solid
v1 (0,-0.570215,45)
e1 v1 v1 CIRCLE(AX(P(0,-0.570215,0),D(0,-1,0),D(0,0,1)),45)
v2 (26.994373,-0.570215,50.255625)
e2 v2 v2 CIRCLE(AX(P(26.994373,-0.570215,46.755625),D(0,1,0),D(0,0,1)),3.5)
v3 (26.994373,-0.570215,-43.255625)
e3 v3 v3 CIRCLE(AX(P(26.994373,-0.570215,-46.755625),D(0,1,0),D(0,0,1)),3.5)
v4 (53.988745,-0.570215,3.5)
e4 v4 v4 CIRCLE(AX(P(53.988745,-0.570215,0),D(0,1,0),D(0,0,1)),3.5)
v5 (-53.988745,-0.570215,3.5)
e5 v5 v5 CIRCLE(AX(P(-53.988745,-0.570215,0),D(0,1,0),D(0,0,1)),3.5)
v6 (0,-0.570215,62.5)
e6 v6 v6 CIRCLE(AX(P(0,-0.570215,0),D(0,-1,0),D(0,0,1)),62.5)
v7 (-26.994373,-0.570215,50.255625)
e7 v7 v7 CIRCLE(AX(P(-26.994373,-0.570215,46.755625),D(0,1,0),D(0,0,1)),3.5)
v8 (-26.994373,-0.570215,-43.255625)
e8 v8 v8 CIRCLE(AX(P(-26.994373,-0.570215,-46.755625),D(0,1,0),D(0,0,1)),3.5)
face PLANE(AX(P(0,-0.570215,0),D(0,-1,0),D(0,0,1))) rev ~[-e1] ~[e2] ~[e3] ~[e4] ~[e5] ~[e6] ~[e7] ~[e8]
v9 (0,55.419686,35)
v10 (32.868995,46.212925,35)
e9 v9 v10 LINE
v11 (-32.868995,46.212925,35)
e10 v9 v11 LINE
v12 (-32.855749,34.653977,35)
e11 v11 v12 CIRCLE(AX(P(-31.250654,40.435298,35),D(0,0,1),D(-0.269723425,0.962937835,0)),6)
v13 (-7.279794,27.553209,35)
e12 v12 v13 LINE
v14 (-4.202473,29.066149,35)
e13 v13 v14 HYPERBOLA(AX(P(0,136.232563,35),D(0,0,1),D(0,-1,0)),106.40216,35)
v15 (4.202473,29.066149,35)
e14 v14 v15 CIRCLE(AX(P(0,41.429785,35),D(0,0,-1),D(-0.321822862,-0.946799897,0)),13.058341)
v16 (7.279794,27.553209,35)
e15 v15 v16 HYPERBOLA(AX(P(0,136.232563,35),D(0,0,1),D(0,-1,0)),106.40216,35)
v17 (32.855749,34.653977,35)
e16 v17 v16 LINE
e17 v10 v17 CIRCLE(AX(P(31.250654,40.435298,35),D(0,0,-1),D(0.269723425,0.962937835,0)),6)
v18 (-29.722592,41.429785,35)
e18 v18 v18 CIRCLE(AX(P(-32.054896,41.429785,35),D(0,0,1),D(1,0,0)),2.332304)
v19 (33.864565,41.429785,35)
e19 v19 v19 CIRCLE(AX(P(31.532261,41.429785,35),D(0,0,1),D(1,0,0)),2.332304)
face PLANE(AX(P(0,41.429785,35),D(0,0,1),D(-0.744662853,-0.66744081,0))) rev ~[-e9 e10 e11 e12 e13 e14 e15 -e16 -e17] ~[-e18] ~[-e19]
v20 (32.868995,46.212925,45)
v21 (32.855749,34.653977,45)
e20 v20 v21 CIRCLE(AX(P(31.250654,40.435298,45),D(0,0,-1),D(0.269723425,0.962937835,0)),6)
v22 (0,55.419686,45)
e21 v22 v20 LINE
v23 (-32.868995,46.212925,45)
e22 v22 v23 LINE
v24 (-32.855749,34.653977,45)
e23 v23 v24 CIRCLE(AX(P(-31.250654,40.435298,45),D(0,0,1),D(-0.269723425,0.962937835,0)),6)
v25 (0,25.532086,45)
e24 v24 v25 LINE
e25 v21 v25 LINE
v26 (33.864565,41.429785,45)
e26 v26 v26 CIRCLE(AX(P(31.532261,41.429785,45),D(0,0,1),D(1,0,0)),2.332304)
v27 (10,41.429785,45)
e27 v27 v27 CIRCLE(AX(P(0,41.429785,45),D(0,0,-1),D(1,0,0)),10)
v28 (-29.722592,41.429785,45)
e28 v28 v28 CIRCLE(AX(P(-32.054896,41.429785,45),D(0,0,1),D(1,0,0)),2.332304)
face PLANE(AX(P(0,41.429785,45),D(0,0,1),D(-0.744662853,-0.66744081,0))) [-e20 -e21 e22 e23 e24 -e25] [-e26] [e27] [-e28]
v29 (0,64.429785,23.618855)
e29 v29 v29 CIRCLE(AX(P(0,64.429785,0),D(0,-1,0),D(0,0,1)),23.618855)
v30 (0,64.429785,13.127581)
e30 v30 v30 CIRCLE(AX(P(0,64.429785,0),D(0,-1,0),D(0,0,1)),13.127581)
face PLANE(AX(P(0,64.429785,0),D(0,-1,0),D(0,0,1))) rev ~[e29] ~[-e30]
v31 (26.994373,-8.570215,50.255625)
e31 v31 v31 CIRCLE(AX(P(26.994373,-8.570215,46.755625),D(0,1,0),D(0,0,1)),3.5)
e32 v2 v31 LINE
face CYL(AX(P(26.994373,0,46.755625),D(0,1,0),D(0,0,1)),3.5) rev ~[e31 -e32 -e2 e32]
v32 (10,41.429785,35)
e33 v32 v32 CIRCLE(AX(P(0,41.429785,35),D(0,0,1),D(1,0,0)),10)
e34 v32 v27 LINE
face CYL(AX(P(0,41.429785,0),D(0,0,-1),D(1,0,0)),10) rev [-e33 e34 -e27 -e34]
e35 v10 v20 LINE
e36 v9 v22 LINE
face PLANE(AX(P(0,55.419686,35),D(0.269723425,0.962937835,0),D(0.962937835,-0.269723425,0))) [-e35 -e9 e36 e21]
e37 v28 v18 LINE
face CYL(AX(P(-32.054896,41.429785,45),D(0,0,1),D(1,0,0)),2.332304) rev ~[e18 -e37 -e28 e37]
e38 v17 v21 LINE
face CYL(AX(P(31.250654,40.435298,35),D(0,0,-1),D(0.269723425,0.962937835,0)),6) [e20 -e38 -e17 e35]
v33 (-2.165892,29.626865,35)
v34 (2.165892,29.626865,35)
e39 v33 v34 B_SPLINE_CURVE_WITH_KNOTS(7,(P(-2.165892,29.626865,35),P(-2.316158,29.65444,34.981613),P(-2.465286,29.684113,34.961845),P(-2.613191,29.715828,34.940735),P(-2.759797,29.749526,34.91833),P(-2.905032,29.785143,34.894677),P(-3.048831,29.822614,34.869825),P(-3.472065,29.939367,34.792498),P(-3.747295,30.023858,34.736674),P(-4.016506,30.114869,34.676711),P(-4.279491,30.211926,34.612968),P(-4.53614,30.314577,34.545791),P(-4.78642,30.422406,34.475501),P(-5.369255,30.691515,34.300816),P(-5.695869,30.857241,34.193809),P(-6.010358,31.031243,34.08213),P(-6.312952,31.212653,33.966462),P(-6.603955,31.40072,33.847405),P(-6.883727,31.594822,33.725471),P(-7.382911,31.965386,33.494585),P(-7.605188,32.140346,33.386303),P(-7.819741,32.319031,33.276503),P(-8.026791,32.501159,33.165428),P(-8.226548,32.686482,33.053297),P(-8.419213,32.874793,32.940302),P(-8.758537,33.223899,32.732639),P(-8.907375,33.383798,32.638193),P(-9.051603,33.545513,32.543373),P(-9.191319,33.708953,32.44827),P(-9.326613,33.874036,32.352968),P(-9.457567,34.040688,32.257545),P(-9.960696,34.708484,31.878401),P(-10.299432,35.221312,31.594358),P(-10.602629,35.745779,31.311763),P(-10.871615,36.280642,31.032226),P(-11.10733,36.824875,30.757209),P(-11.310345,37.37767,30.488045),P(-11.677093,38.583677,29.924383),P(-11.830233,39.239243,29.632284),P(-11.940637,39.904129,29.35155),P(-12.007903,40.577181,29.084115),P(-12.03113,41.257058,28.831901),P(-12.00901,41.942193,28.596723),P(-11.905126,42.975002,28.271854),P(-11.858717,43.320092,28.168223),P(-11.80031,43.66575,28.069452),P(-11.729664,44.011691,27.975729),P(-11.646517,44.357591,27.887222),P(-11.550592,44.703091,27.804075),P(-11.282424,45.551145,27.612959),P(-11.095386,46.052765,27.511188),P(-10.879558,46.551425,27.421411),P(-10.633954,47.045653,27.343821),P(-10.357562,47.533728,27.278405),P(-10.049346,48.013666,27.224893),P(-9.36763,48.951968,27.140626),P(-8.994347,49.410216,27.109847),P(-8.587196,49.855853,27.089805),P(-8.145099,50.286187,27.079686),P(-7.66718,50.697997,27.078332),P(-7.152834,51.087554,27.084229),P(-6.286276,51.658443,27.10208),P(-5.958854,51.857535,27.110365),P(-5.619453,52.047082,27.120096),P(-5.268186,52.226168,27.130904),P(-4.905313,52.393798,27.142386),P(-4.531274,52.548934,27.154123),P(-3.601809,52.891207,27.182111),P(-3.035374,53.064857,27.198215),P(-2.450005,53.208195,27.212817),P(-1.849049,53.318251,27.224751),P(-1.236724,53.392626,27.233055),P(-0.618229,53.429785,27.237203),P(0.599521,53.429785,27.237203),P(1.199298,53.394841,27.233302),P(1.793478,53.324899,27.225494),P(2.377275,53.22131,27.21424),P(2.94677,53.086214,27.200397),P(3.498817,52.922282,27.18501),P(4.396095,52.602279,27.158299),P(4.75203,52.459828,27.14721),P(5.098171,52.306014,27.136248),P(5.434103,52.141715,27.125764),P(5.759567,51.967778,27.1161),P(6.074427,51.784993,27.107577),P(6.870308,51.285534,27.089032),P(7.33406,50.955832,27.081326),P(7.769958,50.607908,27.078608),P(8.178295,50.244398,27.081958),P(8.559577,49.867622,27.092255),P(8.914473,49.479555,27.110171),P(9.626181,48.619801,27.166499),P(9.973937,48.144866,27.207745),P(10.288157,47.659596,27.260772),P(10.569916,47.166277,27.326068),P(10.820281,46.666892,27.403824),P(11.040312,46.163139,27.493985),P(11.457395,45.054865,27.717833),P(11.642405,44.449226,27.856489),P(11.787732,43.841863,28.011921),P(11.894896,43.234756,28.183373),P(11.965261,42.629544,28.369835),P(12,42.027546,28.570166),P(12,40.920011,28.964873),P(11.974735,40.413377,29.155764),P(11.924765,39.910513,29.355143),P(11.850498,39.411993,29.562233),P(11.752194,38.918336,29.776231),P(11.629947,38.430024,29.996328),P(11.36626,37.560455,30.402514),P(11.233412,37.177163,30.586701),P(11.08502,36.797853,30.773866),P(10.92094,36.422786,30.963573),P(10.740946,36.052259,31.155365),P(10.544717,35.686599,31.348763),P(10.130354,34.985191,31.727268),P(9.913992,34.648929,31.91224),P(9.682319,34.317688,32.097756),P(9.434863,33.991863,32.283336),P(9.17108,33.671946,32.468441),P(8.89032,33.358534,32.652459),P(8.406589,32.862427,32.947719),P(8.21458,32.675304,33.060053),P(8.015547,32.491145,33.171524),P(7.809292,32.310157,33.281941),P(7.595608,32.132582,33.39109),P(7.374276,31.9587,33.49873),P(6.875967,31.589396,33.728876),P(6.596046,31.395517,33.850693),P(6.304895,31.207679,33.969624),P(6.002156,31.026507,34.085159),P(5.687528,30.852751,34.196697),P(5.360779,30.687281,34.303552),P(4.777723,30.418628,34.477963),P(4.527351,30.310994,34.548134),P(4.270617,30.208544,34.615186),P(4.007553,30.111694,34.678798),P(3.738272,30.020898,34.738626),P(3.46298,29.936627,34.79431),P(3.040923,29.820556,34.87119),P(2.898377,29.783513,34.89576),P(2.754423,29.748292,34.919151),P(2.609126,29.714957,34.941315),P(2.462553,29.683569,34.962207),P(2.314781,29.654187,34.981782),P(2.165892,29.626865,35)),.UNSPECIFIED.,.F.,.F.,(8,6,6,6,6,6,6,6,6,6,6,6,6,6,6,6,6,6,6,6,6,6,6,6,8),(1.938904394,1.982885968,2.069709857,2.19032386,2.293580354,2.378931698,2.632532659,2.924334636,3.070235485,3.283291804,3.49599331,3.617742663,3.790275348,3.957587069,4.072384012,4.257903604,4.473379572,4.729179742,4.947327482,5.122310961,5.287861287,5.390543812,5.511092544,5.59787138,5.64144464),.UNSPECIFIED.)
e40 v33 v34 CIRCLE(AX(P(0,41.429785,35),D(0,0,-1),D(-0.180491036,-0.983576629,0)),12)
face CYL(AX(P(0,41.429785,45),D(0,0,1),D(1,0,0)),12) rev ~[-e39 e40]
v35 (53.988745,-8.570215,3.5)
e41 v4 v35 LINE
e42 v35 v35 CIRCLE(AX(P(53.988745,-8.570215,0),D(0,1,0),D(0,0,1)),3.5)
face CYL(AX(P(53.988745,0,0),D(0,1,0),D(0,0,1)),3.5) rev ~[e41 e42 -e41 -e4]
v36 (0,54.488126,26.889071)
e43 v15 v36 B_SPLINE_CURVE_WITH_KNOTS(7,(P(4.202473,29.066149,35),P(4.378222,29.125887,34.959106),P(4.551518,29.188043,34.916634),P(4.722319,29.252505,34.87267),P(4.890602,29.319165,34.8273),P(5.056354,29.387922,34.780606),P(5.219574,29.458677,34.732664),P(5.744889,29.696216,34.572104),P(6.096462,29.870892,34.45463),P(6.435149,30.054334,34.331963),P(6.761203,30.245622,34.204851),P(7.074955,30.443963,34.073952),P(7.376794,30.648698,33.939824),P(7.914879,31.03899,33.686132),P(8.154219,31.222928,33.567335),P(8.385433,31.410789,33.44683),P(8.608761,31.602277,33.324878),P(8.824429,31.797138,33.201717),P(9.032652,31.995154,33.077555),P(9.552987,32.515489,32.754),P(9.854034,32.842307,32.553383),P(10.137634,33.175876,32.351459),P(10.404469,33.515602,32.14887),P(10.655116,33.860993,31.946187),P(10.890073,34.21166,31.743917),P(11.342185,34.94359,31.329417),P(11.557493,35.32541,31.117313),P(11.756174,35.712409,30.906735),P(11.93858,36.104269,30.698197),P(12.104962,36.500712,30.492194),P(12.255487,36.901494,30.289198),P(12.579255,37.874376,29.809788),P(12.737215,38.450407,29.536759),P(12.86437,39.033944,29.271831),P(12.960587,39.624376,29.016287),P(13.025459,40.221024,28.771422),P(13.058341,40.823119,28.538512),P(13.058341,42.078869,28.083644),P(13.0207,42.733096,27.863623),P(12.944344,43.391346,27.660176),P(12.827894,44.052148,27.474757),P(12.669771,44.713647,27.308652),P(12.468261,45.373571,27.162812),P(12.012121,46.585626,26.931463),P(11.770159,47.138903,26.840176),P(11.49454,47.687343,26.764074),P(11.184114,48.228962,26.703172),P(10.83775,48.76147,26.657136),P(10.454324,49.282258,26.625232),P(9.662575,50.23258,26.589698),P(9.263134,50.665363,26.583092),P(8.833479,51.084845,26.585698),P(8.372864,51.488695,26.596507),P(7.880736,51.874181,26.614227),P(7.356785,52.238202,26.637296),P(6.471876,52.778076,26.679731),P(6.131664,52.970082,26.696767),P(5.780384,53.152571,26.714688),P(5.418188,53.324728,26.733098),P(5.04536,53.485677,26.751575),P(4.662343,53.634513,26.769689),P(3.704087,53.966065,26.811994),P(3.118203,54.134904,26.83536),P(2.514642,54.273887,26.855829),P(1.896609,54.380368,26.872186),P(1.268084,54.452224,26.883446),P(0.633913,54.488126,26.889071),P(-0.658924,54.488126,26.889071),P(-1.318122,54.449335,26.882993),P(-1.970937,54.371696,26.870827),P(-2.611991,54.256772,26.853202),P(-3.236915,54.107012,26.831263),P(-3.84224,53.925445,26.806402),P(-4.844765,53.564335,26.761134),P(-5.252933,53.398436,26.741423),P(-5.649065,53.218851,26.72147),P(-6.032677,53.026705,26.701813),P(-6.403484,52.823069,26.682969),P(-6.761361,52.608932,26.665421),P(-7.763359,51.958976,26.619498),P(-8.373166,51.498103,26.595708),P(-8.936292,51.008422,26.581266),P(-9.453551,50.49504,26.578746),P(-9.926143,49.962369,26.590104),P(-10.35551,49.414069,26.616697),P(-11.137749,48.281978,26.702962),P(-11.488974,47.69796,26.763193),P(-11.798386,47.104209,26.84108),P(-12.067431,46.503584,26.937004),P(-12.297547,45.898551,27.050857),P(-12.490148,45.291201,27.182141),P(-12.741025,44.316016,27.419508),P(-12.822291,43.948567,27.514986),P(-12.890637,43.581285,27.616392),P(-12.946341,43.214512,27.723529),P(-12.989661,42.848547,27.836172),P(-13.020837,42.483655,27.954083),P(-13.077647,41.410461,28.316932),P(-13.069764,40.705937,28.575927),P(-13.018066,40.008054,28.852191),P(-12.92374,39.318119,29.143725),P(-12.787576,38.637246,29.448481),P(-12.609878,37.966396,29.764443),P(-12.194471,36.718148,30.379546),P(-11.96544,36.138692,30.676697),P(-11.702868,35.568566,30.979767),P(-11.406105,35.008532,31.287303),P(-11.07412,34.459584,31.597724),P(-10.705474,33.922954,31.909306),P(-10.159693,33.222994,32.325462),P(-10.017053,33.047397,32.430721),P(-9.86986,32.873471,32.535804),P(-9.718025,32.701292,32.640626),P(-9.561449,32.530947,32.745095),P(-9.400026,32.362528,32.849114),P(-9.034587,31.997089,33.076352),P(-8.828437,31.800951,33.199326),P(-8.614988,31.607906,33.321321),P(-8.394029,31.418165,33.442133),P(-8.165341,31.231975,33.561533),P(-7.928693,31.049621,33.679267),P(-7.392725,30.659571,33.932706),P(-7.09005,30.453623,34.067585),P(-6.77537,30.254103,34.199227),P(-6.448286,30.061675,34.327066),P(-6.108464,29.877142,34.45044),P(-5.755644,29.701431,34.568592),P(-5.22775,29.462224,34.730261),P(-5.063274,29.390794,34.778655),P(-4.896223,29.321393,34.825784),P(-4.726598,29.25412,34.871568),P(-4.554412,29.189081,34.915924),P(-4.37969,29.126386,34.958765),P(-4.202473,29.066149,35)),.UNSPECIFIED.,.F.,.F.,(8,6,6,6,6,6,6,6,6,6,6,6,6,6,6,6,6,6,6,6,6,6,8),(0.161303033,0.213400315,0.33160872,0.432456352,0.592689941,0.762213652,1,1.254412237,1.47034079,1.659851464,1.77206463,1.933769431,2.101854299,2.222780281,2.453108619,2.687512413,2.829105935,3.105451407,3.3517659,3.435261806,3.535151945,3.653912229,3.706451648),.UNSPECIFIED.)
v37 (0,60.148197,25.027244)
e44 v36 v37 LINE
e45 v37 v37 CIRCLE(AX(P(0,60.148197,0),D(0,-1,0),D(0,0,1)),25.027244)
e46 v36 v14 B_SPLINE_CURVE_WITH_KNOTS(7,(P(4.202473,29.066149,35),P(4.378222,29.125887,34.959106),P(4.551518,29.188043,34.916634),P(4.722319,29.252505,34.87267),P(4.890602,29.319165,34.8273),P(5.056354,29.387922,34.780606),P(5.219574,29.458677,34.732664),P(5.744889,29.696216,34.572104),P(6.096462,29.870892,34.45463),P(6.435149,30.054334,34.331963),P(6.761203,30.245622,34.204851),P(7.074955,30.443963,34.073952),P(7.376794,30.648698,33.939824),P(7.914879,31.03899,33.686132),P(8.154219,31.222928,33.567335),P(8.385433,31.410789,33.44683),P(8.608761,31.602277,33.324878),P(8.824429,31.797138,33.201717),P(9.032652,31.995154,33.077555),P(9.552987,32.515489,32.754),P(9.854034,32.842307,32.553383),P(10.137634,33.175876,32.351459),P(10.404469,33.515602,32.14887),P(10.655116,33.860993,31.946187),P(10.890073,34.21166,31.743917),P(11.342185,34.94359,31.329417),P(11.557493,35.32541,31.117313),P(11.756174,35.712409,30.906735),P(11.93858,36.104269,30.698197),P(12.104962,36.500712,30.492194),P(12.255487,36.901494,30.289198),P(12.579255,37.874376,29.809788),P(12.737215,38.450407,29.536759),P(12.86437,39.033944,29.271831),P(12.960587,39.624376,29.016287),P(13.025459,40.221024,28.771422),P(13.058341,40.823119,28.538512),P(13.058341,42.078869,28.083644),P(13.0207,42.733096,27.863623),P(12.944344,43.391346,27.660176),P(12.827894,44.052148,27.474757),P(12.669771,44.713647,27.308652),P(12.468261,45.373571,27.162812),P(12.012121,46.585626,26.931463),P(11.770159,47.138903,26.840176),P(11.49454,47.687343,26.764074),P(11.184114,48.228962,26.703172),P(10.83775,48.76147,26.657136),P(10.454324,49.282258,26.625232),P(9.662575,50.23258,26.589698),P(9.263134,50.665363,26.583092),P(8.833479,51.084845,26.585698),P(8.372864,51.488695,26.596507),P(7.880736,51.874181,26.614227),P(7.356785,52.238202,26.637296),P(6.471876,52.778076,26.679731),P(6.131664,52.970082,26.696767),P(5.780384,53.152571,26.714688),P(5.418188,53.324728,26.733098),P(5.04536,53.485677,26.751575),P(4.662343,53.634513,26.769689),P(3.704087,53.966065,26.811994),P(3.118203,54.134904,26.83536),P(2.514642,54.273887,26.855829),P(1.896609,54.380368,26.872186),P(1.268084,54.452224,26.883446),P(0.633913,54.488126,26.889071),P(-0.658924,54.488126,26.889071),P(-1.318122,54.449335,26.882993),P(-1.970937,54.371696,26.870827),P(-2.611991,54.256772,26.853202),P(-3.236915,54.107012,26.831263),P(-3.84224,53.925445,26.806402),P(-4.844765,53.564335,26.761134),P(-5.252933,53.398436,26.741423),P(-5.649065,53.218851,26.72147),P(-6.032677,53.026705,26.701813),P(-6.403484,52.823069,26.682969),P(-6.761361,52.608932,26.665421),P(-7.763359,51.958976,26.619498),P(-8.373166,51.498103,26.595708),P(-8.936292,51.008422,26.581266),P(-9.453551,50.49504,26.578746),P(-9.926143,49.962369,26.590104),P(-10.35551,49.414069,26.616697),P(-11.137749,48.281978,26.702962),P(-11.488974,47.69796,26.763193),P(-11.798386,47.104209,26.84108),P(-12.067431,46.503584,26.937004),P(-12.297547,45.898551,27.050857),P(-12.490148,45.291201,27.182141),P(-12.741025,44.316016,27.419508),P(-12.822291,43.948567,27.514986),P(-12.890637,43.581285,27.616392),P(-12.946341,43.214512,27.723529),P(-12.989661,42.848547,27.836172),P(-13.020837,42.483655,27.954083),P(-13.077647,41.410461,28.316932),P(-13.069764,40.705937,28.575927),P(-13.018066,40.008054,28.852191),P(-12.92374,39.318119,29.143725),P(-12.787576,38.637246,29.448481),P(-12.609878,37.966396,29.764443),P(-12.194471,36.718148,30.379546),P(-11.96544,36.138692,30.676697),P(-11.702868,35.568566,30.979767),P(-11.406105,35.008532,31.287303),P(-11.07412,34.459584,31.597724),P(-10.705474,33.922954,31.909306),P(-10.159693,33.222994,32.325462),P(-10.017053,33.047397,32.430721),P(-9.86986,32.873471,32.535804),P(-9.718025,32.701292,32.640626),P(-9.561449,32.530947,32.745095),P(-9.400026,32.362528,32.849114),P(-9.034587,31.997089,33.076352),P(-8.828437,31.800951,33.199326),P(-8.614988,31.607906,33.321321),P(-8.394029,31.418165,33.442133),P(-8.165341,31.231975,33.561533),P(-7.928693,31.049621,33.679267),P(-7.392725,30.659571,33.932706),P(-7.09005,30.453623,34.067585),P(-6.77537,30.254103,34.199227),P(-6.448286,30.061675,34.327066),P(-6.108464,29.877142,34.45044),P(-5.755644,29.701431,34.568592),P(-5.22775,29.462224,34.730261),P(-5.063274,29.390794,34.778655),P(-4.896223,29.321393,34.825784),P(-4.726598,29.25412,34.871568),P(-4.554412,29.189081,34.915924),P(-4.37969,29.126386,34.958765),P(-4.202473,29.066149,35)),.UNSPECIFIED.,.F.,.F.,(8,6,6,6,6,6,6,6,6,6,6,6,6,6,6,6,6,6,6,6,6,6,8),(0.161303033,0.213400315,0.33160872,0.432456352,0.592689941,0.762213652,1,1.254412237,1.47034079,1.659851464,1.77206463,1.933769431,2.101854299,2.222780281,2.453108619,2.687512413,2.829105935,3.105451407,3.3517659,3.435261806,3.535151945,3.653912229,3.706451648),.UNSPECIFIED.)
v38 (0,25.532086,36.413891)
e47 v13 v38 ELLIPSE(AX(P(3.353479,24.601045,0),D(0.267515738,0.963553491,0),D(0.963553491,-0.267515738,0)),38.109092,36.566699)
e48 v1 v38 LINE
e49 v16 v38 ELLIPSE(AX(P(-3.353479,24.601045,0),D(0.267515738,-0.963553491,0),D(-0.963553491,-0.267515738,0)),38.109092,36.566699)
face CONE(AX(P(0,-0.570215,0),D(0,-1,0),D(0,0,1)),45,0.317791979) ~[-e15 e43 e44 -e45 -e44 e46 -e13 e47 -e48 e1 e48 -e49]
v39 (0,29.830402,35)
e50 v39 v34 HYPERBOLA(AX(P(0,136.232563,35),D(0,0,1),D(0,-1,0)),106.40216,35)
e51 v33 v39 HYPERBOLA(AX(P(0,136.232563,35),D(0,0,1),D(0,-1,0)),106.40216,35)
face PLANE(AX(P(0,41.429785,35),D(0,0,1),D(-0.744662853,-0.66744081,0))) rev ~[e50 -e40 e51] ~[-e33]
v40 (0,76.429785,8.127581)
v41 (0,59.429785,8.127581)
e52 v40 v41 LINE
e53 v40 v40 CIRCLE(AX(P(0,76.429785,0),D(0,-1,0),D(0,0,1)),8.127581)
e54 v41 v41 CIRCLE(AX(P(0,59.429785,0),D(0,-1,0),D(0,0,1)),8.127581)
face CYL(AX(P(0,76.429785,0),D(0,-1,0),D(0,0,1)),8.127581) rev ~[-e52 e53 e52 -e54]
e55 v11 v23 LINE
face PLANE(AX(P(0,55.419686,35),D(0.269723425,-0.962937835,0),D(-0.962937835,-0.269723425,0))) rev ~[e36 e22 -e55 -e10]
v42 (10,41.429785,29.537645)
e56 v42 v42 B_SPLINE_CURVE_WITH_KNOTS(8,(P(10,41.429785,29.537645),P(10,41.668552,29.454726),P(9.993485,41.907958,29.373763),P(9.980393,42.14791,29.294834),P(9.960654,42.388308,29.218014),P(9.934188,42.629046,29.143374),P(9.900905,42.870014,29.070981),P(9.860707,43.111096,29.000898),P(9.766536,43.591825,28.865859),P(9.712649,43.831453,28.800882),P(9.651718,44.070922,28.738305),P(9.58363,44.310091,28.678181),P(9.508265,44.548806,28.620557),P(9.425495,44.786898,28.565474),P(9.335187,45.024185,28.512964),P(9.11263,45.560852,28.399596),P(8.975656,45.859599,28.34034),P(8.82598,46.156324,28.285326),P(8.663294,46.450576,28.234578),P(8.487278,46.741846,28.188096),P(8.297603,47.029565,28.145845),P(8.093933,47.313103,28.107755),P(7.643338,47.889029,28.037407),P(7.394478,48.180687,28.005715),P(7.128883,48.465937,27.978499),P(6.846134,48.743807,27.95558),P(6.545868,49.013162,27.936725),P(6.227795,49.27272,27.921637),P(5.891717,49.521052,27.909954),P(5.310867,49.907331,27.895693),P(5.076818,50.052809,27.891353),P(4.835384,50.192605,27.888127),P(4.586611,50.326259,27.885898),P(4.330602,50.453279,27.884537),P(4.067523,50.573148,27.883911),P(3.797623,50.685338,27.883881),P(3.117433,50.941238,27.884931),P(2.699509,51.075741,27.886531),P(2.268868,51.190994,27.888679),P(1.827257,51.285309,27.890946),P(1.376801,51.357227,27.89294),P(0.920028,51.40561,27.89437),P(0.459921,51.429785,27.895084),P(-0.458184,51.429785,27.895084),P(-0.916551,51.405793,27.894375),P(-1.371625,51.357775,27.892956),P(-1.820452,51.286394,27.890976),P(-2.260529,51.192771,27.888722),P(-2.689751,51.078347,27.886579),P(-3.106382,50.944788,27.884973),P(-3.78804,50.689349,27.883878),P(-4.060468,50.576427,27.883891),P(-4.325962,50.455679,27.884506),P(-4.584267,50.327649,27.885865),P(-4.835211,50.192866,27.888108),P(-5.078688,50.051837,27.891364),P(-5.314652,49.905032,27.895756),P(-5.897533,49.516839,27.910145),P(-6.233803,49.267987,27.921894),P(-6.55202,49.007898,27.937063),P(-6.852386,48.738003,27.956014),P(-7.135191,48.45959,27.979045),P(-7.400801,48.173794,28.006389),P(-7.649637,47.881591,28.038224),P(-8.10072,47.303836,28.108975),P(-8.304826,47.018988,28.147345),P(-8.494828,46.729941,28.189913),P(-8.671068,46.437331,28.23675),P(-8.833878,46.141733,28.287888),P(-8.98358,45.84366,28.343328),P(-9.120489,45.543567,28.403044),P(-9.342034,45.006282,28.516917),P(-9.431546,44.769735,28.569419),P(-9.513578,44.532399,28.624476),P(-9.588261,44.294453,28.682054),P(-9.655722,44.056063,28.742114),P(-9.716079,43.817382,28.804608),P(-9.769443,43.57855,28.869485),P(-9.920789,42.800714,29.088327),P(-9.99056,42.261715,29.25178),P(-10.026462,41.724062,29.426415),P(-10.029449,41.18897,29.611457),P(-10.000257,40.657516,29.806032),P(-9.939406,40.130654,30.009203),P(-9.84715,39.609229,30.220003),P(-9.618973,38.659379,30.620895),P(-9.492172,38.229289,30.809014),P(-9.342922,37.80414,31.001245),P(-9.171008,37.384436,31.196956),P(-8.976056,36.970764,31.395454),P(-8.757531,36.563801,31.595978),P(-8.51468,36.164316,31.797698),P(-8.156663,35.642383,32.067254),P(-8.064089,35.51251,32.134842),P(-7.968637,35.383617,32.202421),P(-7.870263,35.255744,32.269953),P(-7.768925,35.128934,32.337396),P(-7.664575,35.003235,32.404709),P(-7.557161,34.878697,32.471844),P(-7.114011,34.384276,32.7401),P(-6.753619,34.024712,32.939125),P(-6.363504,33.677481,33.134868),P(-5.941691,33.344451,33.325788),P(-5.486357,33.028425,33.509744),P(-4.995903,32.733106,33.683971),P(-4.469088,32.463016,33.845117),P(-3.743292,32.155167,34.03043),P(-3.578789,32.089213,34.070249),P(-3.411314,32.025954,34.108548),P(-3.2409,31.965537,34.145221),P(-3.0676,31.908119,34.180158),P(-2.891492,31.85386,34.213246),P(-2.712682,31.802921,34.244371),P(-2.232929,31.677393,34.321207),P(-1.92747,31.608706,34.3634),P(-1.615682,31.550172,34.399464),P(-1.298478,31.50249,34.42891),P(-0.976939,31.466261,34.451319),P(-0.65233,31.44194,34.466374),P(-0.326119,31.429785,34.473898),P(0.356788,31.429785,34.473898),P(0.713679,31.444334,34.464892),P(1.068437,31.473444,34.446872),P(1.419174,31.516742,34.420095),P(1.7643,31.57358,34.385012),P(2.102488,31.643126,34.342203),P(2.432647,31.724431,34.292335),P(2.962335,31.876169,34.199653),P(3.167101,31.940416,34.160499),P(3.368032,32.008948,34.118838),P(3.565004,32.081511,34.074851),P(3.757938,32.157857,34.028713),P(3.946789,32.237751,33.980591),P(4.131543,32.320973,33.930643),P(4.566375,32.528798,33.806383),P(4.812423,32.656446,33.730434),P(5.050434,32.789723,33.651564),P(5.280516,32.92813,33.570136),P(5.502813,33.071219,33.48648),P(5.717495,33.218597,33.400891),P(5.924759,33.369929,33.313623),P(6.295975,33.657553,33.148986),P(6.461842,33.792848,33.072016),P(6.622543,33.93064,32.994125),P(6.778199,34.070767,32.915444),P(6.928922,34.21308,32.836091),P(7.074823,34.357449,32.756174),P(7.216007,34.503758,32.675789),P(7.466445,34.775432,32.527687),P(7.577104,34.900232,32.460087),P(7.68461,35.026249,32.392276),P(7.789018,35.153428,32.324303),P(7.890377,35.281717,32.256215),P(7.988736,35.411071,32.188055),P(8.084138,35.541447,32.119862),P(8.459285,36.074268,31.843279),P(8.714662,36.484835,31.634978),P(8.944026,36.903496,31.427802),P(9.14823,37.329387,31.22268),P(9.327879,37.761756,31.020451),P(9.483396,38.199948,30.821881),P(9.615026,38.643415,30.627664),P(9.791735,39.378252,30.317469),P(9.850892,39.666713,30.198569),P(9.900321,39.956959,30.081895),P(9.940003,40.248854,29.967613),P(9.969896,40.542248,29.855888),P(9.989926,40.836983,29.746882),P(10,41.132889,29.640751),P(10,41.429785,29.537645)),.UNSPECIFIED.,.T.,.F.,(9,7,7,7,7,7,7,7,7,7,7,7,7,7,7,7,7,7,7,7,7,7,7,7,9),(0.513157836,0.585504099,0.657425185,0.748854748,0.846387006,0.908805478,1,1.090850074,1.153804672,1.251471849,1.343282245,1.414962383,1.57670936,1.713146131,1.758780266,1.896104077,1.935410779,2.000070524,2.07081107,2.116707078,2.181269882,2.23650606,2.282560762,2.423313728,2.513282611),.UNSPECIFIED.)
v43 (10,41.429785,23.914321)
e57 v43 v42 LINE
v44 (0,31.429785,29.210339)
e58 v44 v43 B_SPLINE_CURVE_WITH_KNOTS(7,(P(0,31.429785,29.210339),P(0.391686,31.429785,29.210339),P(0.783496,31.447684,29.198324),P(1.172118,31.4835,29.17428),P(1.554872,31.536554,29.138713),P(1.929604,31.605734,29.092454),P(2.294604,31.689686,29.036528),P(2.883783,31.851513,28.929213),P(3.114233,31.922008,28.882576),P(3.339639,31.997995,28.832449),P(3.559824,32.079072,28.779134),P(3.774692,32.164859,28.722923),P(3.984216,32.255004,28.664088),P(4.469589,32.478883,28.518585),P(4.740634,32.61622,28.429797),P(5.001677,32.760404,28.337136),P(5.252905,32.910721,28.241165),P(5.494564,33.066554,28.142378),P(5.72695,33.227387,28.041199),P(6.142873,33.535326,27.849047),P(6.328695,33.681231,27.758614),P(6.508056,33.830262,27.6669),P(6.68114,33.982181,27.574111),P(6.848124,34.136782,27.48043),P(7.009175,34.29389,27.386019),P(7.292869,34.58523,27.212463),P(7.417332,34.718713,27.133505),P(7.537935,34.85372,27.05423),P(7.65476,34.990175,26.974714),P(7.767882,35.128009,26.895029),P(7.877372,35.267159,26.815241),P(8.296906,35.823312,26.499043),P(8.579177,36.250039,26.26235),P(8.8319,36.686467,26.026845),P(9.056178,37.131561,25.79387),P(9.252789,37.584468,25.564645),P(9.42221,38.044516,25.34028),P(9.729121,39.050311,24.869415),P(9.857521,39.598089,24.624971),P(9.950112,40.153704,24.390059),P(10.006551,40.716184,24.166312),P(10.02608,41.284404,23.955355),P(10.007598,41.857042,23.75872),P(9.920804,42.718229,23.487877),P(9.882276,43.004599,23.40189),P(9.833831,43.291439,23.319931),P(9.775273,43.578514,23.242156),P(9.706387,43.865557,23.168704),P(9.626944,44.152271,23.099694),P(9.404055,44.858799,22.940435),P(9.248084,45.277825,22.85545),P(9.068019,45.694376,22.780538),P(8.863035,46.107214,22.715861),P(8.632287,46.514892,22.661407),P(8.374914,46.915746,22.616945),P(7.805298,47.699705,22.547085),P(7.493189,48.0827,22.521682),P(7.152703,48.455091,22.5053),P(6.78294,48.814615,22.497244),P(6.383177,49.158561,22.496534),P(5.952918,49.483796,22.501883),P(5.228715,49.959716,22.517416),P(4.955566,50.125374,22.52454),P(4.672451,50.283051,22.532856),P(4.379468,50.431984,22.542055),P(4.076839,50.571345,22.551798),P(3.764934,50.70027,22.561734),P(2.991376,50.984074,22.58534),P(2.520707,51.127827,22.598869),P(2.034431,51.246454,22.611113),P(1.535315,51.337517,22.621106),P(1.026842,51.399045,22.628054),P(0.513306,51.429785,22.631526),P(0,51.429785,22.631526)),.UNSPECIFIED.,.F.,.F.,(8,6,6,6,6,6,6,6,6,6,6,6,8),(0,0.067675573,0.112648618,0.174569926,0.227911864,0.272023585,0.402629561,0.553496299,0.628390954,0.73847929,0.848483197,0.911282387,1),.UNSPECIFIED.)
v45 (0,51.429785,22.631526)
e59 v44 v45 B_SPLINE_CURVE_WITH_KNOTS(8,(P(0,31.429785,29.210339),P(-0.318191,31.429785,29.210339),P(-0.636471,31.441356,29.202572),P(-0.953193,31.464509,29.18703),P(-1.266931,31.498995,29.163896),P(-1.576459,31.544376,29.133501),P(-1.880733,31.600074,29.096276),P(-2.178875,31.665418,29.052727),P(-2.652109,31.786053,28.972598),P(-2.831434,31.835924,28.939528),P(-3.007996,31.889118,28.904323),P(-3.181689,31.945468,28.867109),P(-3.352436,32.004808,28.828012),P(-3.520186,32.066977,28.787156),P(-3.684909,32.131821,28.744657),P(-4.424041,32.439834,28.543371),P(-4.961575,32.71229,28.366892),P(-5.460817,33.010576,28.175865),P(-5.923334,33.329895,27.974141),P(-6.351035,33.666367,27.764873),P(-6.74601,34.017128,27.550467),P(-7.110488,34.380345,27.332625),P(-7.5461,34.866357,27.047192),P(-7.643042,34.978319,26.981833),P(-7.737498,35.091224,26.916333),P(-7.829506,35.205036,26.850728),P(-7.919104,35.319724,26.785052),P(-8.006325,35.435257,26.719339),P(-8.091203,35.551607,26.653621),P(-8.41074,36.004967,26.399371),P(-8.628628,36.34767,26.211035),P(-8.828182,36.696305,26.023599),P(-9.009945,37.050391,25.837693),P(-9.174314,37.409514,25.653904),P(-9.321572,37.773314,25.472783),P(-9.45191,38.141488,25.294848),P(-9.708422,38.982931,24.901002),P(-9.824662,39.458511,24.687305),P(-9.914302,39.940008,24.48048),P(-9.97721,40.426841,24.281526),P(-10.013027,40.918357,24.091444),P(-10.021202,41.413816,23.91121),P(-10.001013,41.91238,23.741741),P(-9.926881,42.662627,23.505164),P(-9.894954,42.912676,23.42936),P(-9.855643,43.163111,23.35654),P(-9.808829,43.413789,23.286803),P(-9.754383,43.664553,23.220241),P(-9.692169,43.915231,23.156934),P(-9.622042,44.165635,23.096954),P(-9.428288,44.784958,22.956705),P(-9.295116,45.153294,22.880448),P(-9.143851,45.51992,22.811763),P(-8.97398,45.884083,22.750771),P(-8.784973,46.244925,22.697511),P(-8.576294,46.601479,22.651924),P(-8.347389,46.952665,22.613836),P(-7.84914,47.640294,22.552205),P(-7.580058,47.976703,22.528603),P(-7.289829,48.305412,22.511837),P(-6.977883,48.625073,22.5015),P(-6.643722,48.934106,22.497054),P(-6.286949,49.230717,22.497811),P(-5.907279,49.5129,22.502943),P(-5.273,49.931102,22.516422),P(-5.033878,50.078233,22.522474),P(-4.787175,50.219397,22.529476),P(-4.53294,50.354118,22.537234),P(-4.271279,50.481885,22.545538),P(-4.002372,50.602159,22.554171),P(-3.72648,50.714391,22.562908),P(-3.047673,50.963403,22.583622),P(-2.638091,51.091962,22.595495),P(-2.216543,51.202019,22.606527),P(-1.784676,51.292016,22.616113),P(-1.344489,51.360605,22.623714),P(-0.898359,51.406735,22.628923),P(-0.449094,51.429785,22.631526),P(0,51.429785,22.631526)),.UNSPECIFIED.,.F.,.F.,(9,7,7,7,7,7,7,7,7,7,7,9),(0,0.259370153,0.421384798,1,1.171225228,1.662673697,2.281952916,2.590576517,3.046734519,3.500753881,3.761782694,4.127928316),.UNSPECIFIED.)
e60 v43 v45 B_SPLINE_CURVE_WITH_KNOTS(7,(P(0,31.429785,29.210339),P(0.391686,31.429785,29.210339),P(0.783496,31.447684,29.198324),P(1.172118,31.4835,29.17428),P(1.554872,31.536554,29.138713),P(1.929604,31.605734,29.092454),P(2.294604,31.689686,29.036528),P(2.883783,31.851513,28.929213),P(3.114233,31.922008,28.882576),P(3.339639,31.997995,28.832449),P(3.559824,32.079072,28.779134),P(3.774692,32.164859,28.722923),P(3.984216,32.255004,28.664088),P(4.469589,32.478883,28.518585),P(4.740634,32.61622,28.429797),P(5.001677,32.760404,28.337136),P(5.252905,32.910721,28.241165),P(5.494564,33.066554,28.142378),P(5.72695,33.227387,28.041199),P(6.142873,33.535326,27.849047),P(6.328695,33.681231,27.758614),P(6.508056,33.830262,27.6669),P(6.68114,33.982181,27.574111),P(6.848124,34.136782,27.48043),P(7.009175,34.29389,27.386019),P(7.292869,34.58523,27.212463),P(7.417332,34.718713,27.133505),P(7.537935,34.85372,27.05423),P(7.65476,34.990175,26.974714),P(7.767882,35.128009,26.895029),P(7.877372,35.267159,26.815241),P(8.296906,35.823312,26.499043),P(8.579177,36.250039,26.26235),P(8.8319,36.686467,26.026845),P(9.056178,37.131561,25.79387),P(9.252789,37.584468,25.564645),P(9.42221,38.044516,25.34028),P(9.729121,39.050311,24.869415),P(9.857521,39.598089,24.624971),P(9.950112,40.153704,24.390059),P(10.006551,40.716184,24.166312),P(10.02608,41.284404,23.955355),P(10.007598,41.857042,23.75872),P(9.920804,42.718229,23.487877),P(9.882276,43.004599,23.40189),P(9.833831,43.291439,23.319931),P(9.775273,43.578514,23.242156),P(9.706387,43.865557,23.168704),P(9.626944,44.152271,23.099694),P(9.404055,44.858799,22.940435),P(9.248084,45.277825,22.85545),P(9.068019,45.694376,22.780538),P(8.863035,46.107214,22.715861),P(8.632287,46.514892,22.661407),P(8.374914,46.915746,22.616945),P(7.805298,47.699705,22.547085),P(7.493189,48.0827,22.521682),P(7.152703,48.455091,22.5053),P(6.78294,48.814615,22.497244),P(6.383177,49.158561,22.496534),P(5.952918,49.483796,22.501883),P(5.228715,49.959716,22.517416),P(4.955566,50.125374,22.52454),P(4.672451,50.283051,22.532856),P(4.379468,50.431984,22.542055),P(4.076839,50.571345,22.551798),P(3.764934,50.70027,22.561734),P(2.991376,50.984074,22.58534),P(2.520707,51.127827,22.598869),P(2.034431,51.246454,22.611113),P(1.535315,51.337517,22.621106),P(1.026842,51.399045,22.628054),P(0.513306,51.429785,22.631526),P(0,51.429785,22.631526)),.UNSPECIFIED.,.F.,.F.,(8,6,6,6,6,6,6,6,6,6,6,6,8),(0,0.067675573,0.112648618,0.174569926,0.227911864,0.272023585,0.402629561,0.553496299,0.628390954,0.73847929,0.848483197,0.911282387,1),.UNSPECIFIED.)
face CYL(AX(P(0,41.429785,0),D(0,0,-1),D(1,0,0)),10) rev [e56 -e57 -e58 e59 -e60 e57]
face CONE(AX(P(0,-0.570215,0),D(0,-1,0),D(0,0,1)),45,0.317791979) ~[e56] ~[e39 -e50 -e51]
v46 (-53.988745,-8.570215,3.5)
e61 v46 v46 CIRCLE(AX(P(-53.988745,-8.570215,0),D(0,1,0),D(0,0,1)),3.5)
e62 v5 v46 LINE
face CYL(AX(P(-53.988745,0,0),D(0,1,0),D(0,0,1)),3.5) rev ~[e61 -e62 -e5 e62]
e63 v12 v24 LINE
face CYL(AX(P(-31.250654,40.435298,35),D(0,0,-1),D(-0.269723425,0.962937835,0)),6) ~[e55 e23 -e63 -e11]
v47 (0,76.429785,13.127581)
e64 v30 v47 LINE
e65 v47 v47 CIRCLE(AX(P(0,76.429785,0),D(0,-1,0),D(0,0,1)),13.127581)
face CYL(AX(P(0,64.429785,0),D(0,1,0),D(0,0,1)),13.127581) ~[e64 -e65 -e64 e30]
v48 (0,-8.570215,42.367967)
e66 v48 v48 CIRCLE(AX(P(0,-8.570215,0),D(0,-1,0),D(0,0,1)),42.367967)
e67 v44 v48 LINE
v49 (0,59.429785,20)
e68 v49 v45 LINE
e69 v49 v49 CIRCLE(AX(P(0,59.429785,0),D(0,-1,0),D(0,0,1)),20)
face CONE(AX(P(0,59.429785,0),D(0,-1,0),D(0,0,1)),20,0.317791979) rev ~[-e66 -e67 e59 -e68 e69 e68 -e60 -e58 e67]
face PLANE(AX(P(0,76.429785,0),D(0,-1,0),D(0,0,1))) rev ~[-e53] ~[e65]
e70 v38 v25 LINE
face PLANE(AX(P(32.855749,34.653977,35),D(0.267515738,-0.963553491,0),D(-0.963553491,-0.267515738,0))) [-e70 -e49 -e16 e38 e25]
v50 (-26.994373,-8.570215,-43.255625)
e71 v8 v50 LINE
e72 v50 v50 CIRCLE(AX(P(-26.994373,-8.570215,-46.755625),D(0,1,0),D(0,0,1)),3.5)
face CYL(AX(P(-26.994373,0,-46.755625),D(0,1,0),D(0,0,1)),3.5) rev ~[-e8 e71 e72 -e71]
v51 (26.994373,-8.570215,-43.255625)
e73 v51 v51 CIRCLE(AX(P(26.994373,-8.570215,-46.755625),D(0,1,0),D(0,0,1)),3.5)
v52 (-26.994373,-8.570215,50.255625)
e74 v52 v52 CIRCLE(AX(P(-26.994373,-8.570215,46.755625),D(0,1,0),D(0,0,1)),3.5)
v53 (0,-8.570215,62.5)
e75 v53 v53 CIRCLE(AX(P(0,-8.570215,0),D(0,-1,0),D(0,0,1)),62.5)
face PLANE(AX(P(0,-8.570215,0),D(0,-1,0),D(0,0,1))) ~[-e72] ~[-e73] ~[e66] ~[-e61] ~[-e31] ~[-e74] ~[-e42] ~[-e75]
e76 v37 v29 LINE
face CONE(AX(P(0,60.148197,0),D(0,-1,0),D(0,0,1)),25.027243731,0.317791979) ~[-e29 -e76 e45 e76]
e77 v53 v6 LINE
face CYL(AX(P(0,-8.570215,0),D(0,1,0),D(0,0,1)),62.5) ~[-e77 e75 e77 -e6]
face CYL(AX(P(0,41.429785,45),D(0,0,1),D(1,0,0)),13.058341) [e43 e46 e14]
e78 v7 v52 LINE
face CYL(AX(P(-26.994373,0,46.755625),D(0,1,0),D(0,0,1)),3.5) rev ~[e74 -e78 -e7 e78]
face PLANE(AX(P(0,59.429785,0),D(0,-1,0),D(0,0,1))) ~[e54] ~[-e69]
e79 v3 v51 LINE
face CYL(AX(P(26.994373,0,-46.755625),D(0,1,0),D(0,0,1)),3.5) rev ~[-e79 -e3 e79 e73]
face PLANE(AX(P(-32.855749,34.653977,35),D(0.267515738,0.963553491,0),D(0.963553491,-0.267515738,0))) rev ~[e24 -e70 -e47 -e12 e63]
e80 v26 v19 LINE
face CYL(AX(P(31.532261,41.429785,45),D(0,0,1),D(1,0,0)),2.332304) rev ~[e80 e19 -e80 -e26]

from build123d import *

# Parameters (mm, degrees)
SKETCH_2_R                      = 10
EXTRUDE_2_DEPTH                 = 45
EXTRUDE_START                   = -10
SKETCH_4_R                      = 10
EXTRUDE_4_DEPTH                 = 10
SKETCH_2_2_R                    = 10
CUT_EXTRUDE_1_DEPTH             = 117.85038305
EXTRUDE_5_REACH                 = 147.959
SKETCH_5_R                      = 13.058341014
SKETCH_5_R_2                    = 12
CUT_EXTRUDE_2_REACH             = 147.959
SKETCH_8_R                      = 2.33230382
CUT_EXTRUDE_2_DIRECTION_2_DEPTH = 146.958939497
CUT_EXTRUDE_3_REACH             = 118.85
SKETCH_9_R                      = 3.5


with BuildPart() as part:
    # 草图1 → 旋转1 (revolve)
    with BuildSketch(Plane.XY, mode=Mode.PRIVATE) as revolve_1_sk:
        Polygon((-8.127581033, 76.429784894), (-8.127581033, 59.429784894), (-20, 59.429784894), (-42.367966888, -8.570215106), (-62.5, -8.570215106), (-62.5, -0.570215106), (-45, -0.570215106), (-25.027243731, 60.148196767), (-23.61885518, 64.429784894), (-13.127581033, 64.429784894), (-13.127581033, 76.429784894), align=None)
    revolve(revolve_1_sk.sketch.rotate(Axis((0, 0, 0), (0, -1, 0)), 270), axis=Axis((0, 0, 0), (0, -1, 0)))

    # 草图2 → 凸台-拉伸2 (add)
    with BuildSketch(Plane.XY):
        with Locations(Location((0, 41.429784894, 0), (0, 0, 221.869851272))):
            Circle(SKETCH_2_R)
    extrude(amount=EXTRUDE_2_DEPTH)

    # 草图4 → 凸台-拉伸4 (add)
    with BuildSketch(Plane.XY.offset(45).offset(EXTRUDE_START)):
        with Locations(Location((0, 41.429784894, 0), (0, 0, 221.869851272))):
            Circle(SKETCH_4_R)
        with BuildLine():
            Line((0, 55.419685687), (-32.868994798, 46.212925364))
            ThreePointArc((-32.868994798, 46.212925364), (-37.250650309, 40.428422584), (-32.855748679, 34.653977409))
            Line((-32.855748679, 34.653977409), (0, 25.532086459))
            Line((0, 25.532086459), (0, 41.429784894))
            Line((0, 41.429784894), (0, 55.419685687))
        make_face()
        with BuildLine():
            ThreePointArc((32.868994798, 46.212925364), (37.250650309, 40.428422584), (32.855748679, 34.653977409))
            Line((32.855748679, 34.653977409), (0, 25.532086459))
            Line((0, 25.532086459), (0, 41.429784894))
            Line((0, 41.429784894), (0, 55.419685687))
            Line((0, 55.419685687), (32.868994798, 46.212925364))
        make_face()
    extrude(amount=EXTRUDE_4_DEPTH)

    # 草图2<2> → 切除-拉伸1 (cut, through all)
    with BuildSketch(Plane.XY):
        with Locations((0, 41.429784894)):
            Circle(SKETCH_2_2_R)
    extrude(amount=CUT_EXTRUDE_1_DEPTH, mode=Mode.SUBTRACT)

    # 草图5 → 凸台-拉伸5 (add, up to next)
    with BuildSketch(Plane.XY.offset(45), mode=Mode.PRIVATE) as extrude_5_sk1:
        with Locations((0, 41.429784894)):
            Circle(SKETCH_5_R)
        with Locations((0, 41.429784894)):
            Circle(SKETCH_5_R_2, mode=Mode.SUBTRACT)
    extrude_5_tool1 = extrude(extrude_5_sk1.sketch, amount=-EXTRUDE_5_REACH, mode=Mode.PRIVATE) - part.part
    add(extrude_5_tool1.solids().sort_by_distance((-12.688995, 41.429785, 45))[0])

    # 草图8 → 切除-拉伸2 (cut, up to next)
    with BuildSketch(Plane.XY.offset(45), mode=Mode.PRIVATE) as cut_extrude_2_sk1:
        with Locations((-32.054895546, 41.429784894)):
            Circle(SKETCH_8_R)
    cut_extrude_2_tool1 = extrude(cut_extrude_2_sk1.sketch, amount=-CUT_EXTRUDE_2_REACH, mode=Mode.PRIVATE) & part.part
    # 草图8 → 切除-拉伸2 (cut, up to next)
    with BuildSketch(Plane.XY.offset(45), mode=Mode.PRIVATE) as cut_extrude_2_sk2:
        with Locations((31.532261379, 41.429784894)):
            Circle(SKETCH_8_R)
    cut_extrude_2_tool2 = extrude(cut_extrude_2_sk2.sketch, amount=-CUT_EXTRUDE_2_REACH, mode=Mode.PRIVATE) & part.part
    add(cut_extrude_2_tool1.solids().sort_by_distance((-32.054896, 41.429785, 45))[0], mode=Mode.SUBTRACT)
    add(cut_extrude_2_tool2.solids().sort_by_distance((31.532261, 41.429785, 45))[0], mode=Mode.SUBTRACT)

    # 草图8 → 切除-拉伸2 direction 2 (cut)
    with BuildSketch(Plane.XY.offset(45)):
        with Locations((-32.054895546, 41.429784894)):
            Circle(SKETCH_8_R)
        with Locations((31.532261379, 41.429784894)):
            Circle(SKETCH_8_R)
    extrude(amount=CUT_EXTRUDE_2_DIRECTION_2_DEPTH, mode=Mode.SUBTRACT)

    # 草图9 → 切除-拉伸3 (cut, up to next)
    with BuildSketch(Plane(origin=(0, 0, 0), x_dir=(1, 0, 0), z_dir=(0, 1, 0)), mode=Mode.PRIVATE) as cut_extrude_3_sk1:
        with Locations(Location((-53.988745261, 0, 0), (0, 0, 270))):
            Circle(SKETCH_9_R)
    cut_extrude_3_tool1 = extrude(cut_extrude_3_sk1.sketch, amount=-CUT_EXTRUDE_3_REACH, mode=Mode.PRIVATE) & part.part
    # 草图9 → 切除-拉伸3 (cut, up to next)
    with BuildSketch(Plane(origin=(0, 0, 0), x_dir=(1, 0, 0), z_dir=(0, 1, 0)), mode=Mode.PRIVATE) as cut_extrude_3_sk2:
        with Locations(Location((-26.994372631, 46.755624915, 0), (0, 0, 270))):
            Circle(SKETCH_9_R)
    cut_extrude_3_tool2 = extrude(cut_extrude_3_sk2.sketch, amount=-CUT_EXTRUDE_3_REACH, mode=Mode.PRIVATE) & part.part
    # 草图9 → 切除-拉伸3 (cut, up to next)
    with BuildSketch(Plane(origin=(0, 0, 0), x_dir=(1, 0, 0), z_dir=(0, 1, 0)), mode=Mode.PRIVATE) as cut_extrude_3_sk3:
        with Locations(Location((26.994372631, 46.755624915, 0), (0, 0, 270))):
            Circle(SKETCH_9_R)
    cut_extrude_3_tool3 = extrude(cut_extrude_3_sk3.sketch, amount=-CUT_EXTRUDE_3_REACH, mode=Mode.PRIVATE) & part.part
    # 草图9 → 切除-拉伸3 (cut, up to next)
    with BuildSketch(Plane(origin=(0, 0, 0), x_dir=(1, 0, 0), z_dir=(0, 1, 0)), mode=Mode.PRIVATE) as cut_extrude_3_sk4:
        with Locations(Location((53.988745261, 0, 0), (0, 0, 270))):
            Circle(SKETCH_9_R)
    cut_extrude_3_tool4 = extrude(cut_extrude_3_sk4.sketch, amount=-CUT_EXTRUDE_3_REACH, mode=Mode.PRIVATE) & part.part
    # 草图9 → 切除-拉伸3 (cut, up to next)
    with BuildSketch(Plane(origin=(0, 0, 0), x_dir=(1, 0, 0), z_dir=(0, 1, 0)), mode=Mode.PRIVATE) as cut_extrude_3_sk5:
        with Locations(Location((26.994372631, -46.755624915, 0), (0, 0, 270))):
            Circle(SKETCH_9_R)
    cut_extrude_3_tool5 = extrude(cut_extrude_3_sk5.sketch, amount=-CUT_EXTRUDE_3_REACH, mode=Mode.PRIVATE) & part.part
    # 草图9 → 切除-拉伸3 (cut, up to next)
    with BuildSketch(Plane(origin=(0, 0, 0), x_dir=(1, 0, 0), z_dir=(0, 1, 0)), mode=Mode.PRIVATE) as cut_extrude_3_sk6:
        with Locations(Location((-26.994372631, -46.755624915, 0), (0, 0, 270))):
            Circle(SKETCH_9_R)
    cut_extrude_3_tool6 = extrude(cut_extrude_3_sk6.sketch, amount=-CUT_EXTRUDE_3_REACH, mode=Mode.PRIVATE) & part.part
    add(cut_extrude_3_tool1.solids().sort_by_distance((-53.988745, 0, 0))[0], mode=Mode.SUBTRACT)
    add(cut_extrude_3_tool2.solids().sort_by_distance((-26.994373, 0, -46.755625))[0], mode=Mode.SUBTRACT)
    add(cut_extrude_3_tool3.solids().sort_by_distance((26.994373, 0, -46.755625))[0], mode=Mode.SUBTRACT)
    add(cut_extrude_3_tool4.solids().sort_by_distance((53.988745, 0, 0))[0], mode=Mode.SUBTRACT)
    add(cut_extrude_3_tool5.solids().sort_by_distance((26.994373, 0, 46.755625))[0], mode=Mode.SUBTRACT)
    add(cut_extrude_3_tool6.solids().sort_by_distance((-26.994373, 0, 46.755625))[0], mode=Mode.SUBTRACT)


solid = part.part
